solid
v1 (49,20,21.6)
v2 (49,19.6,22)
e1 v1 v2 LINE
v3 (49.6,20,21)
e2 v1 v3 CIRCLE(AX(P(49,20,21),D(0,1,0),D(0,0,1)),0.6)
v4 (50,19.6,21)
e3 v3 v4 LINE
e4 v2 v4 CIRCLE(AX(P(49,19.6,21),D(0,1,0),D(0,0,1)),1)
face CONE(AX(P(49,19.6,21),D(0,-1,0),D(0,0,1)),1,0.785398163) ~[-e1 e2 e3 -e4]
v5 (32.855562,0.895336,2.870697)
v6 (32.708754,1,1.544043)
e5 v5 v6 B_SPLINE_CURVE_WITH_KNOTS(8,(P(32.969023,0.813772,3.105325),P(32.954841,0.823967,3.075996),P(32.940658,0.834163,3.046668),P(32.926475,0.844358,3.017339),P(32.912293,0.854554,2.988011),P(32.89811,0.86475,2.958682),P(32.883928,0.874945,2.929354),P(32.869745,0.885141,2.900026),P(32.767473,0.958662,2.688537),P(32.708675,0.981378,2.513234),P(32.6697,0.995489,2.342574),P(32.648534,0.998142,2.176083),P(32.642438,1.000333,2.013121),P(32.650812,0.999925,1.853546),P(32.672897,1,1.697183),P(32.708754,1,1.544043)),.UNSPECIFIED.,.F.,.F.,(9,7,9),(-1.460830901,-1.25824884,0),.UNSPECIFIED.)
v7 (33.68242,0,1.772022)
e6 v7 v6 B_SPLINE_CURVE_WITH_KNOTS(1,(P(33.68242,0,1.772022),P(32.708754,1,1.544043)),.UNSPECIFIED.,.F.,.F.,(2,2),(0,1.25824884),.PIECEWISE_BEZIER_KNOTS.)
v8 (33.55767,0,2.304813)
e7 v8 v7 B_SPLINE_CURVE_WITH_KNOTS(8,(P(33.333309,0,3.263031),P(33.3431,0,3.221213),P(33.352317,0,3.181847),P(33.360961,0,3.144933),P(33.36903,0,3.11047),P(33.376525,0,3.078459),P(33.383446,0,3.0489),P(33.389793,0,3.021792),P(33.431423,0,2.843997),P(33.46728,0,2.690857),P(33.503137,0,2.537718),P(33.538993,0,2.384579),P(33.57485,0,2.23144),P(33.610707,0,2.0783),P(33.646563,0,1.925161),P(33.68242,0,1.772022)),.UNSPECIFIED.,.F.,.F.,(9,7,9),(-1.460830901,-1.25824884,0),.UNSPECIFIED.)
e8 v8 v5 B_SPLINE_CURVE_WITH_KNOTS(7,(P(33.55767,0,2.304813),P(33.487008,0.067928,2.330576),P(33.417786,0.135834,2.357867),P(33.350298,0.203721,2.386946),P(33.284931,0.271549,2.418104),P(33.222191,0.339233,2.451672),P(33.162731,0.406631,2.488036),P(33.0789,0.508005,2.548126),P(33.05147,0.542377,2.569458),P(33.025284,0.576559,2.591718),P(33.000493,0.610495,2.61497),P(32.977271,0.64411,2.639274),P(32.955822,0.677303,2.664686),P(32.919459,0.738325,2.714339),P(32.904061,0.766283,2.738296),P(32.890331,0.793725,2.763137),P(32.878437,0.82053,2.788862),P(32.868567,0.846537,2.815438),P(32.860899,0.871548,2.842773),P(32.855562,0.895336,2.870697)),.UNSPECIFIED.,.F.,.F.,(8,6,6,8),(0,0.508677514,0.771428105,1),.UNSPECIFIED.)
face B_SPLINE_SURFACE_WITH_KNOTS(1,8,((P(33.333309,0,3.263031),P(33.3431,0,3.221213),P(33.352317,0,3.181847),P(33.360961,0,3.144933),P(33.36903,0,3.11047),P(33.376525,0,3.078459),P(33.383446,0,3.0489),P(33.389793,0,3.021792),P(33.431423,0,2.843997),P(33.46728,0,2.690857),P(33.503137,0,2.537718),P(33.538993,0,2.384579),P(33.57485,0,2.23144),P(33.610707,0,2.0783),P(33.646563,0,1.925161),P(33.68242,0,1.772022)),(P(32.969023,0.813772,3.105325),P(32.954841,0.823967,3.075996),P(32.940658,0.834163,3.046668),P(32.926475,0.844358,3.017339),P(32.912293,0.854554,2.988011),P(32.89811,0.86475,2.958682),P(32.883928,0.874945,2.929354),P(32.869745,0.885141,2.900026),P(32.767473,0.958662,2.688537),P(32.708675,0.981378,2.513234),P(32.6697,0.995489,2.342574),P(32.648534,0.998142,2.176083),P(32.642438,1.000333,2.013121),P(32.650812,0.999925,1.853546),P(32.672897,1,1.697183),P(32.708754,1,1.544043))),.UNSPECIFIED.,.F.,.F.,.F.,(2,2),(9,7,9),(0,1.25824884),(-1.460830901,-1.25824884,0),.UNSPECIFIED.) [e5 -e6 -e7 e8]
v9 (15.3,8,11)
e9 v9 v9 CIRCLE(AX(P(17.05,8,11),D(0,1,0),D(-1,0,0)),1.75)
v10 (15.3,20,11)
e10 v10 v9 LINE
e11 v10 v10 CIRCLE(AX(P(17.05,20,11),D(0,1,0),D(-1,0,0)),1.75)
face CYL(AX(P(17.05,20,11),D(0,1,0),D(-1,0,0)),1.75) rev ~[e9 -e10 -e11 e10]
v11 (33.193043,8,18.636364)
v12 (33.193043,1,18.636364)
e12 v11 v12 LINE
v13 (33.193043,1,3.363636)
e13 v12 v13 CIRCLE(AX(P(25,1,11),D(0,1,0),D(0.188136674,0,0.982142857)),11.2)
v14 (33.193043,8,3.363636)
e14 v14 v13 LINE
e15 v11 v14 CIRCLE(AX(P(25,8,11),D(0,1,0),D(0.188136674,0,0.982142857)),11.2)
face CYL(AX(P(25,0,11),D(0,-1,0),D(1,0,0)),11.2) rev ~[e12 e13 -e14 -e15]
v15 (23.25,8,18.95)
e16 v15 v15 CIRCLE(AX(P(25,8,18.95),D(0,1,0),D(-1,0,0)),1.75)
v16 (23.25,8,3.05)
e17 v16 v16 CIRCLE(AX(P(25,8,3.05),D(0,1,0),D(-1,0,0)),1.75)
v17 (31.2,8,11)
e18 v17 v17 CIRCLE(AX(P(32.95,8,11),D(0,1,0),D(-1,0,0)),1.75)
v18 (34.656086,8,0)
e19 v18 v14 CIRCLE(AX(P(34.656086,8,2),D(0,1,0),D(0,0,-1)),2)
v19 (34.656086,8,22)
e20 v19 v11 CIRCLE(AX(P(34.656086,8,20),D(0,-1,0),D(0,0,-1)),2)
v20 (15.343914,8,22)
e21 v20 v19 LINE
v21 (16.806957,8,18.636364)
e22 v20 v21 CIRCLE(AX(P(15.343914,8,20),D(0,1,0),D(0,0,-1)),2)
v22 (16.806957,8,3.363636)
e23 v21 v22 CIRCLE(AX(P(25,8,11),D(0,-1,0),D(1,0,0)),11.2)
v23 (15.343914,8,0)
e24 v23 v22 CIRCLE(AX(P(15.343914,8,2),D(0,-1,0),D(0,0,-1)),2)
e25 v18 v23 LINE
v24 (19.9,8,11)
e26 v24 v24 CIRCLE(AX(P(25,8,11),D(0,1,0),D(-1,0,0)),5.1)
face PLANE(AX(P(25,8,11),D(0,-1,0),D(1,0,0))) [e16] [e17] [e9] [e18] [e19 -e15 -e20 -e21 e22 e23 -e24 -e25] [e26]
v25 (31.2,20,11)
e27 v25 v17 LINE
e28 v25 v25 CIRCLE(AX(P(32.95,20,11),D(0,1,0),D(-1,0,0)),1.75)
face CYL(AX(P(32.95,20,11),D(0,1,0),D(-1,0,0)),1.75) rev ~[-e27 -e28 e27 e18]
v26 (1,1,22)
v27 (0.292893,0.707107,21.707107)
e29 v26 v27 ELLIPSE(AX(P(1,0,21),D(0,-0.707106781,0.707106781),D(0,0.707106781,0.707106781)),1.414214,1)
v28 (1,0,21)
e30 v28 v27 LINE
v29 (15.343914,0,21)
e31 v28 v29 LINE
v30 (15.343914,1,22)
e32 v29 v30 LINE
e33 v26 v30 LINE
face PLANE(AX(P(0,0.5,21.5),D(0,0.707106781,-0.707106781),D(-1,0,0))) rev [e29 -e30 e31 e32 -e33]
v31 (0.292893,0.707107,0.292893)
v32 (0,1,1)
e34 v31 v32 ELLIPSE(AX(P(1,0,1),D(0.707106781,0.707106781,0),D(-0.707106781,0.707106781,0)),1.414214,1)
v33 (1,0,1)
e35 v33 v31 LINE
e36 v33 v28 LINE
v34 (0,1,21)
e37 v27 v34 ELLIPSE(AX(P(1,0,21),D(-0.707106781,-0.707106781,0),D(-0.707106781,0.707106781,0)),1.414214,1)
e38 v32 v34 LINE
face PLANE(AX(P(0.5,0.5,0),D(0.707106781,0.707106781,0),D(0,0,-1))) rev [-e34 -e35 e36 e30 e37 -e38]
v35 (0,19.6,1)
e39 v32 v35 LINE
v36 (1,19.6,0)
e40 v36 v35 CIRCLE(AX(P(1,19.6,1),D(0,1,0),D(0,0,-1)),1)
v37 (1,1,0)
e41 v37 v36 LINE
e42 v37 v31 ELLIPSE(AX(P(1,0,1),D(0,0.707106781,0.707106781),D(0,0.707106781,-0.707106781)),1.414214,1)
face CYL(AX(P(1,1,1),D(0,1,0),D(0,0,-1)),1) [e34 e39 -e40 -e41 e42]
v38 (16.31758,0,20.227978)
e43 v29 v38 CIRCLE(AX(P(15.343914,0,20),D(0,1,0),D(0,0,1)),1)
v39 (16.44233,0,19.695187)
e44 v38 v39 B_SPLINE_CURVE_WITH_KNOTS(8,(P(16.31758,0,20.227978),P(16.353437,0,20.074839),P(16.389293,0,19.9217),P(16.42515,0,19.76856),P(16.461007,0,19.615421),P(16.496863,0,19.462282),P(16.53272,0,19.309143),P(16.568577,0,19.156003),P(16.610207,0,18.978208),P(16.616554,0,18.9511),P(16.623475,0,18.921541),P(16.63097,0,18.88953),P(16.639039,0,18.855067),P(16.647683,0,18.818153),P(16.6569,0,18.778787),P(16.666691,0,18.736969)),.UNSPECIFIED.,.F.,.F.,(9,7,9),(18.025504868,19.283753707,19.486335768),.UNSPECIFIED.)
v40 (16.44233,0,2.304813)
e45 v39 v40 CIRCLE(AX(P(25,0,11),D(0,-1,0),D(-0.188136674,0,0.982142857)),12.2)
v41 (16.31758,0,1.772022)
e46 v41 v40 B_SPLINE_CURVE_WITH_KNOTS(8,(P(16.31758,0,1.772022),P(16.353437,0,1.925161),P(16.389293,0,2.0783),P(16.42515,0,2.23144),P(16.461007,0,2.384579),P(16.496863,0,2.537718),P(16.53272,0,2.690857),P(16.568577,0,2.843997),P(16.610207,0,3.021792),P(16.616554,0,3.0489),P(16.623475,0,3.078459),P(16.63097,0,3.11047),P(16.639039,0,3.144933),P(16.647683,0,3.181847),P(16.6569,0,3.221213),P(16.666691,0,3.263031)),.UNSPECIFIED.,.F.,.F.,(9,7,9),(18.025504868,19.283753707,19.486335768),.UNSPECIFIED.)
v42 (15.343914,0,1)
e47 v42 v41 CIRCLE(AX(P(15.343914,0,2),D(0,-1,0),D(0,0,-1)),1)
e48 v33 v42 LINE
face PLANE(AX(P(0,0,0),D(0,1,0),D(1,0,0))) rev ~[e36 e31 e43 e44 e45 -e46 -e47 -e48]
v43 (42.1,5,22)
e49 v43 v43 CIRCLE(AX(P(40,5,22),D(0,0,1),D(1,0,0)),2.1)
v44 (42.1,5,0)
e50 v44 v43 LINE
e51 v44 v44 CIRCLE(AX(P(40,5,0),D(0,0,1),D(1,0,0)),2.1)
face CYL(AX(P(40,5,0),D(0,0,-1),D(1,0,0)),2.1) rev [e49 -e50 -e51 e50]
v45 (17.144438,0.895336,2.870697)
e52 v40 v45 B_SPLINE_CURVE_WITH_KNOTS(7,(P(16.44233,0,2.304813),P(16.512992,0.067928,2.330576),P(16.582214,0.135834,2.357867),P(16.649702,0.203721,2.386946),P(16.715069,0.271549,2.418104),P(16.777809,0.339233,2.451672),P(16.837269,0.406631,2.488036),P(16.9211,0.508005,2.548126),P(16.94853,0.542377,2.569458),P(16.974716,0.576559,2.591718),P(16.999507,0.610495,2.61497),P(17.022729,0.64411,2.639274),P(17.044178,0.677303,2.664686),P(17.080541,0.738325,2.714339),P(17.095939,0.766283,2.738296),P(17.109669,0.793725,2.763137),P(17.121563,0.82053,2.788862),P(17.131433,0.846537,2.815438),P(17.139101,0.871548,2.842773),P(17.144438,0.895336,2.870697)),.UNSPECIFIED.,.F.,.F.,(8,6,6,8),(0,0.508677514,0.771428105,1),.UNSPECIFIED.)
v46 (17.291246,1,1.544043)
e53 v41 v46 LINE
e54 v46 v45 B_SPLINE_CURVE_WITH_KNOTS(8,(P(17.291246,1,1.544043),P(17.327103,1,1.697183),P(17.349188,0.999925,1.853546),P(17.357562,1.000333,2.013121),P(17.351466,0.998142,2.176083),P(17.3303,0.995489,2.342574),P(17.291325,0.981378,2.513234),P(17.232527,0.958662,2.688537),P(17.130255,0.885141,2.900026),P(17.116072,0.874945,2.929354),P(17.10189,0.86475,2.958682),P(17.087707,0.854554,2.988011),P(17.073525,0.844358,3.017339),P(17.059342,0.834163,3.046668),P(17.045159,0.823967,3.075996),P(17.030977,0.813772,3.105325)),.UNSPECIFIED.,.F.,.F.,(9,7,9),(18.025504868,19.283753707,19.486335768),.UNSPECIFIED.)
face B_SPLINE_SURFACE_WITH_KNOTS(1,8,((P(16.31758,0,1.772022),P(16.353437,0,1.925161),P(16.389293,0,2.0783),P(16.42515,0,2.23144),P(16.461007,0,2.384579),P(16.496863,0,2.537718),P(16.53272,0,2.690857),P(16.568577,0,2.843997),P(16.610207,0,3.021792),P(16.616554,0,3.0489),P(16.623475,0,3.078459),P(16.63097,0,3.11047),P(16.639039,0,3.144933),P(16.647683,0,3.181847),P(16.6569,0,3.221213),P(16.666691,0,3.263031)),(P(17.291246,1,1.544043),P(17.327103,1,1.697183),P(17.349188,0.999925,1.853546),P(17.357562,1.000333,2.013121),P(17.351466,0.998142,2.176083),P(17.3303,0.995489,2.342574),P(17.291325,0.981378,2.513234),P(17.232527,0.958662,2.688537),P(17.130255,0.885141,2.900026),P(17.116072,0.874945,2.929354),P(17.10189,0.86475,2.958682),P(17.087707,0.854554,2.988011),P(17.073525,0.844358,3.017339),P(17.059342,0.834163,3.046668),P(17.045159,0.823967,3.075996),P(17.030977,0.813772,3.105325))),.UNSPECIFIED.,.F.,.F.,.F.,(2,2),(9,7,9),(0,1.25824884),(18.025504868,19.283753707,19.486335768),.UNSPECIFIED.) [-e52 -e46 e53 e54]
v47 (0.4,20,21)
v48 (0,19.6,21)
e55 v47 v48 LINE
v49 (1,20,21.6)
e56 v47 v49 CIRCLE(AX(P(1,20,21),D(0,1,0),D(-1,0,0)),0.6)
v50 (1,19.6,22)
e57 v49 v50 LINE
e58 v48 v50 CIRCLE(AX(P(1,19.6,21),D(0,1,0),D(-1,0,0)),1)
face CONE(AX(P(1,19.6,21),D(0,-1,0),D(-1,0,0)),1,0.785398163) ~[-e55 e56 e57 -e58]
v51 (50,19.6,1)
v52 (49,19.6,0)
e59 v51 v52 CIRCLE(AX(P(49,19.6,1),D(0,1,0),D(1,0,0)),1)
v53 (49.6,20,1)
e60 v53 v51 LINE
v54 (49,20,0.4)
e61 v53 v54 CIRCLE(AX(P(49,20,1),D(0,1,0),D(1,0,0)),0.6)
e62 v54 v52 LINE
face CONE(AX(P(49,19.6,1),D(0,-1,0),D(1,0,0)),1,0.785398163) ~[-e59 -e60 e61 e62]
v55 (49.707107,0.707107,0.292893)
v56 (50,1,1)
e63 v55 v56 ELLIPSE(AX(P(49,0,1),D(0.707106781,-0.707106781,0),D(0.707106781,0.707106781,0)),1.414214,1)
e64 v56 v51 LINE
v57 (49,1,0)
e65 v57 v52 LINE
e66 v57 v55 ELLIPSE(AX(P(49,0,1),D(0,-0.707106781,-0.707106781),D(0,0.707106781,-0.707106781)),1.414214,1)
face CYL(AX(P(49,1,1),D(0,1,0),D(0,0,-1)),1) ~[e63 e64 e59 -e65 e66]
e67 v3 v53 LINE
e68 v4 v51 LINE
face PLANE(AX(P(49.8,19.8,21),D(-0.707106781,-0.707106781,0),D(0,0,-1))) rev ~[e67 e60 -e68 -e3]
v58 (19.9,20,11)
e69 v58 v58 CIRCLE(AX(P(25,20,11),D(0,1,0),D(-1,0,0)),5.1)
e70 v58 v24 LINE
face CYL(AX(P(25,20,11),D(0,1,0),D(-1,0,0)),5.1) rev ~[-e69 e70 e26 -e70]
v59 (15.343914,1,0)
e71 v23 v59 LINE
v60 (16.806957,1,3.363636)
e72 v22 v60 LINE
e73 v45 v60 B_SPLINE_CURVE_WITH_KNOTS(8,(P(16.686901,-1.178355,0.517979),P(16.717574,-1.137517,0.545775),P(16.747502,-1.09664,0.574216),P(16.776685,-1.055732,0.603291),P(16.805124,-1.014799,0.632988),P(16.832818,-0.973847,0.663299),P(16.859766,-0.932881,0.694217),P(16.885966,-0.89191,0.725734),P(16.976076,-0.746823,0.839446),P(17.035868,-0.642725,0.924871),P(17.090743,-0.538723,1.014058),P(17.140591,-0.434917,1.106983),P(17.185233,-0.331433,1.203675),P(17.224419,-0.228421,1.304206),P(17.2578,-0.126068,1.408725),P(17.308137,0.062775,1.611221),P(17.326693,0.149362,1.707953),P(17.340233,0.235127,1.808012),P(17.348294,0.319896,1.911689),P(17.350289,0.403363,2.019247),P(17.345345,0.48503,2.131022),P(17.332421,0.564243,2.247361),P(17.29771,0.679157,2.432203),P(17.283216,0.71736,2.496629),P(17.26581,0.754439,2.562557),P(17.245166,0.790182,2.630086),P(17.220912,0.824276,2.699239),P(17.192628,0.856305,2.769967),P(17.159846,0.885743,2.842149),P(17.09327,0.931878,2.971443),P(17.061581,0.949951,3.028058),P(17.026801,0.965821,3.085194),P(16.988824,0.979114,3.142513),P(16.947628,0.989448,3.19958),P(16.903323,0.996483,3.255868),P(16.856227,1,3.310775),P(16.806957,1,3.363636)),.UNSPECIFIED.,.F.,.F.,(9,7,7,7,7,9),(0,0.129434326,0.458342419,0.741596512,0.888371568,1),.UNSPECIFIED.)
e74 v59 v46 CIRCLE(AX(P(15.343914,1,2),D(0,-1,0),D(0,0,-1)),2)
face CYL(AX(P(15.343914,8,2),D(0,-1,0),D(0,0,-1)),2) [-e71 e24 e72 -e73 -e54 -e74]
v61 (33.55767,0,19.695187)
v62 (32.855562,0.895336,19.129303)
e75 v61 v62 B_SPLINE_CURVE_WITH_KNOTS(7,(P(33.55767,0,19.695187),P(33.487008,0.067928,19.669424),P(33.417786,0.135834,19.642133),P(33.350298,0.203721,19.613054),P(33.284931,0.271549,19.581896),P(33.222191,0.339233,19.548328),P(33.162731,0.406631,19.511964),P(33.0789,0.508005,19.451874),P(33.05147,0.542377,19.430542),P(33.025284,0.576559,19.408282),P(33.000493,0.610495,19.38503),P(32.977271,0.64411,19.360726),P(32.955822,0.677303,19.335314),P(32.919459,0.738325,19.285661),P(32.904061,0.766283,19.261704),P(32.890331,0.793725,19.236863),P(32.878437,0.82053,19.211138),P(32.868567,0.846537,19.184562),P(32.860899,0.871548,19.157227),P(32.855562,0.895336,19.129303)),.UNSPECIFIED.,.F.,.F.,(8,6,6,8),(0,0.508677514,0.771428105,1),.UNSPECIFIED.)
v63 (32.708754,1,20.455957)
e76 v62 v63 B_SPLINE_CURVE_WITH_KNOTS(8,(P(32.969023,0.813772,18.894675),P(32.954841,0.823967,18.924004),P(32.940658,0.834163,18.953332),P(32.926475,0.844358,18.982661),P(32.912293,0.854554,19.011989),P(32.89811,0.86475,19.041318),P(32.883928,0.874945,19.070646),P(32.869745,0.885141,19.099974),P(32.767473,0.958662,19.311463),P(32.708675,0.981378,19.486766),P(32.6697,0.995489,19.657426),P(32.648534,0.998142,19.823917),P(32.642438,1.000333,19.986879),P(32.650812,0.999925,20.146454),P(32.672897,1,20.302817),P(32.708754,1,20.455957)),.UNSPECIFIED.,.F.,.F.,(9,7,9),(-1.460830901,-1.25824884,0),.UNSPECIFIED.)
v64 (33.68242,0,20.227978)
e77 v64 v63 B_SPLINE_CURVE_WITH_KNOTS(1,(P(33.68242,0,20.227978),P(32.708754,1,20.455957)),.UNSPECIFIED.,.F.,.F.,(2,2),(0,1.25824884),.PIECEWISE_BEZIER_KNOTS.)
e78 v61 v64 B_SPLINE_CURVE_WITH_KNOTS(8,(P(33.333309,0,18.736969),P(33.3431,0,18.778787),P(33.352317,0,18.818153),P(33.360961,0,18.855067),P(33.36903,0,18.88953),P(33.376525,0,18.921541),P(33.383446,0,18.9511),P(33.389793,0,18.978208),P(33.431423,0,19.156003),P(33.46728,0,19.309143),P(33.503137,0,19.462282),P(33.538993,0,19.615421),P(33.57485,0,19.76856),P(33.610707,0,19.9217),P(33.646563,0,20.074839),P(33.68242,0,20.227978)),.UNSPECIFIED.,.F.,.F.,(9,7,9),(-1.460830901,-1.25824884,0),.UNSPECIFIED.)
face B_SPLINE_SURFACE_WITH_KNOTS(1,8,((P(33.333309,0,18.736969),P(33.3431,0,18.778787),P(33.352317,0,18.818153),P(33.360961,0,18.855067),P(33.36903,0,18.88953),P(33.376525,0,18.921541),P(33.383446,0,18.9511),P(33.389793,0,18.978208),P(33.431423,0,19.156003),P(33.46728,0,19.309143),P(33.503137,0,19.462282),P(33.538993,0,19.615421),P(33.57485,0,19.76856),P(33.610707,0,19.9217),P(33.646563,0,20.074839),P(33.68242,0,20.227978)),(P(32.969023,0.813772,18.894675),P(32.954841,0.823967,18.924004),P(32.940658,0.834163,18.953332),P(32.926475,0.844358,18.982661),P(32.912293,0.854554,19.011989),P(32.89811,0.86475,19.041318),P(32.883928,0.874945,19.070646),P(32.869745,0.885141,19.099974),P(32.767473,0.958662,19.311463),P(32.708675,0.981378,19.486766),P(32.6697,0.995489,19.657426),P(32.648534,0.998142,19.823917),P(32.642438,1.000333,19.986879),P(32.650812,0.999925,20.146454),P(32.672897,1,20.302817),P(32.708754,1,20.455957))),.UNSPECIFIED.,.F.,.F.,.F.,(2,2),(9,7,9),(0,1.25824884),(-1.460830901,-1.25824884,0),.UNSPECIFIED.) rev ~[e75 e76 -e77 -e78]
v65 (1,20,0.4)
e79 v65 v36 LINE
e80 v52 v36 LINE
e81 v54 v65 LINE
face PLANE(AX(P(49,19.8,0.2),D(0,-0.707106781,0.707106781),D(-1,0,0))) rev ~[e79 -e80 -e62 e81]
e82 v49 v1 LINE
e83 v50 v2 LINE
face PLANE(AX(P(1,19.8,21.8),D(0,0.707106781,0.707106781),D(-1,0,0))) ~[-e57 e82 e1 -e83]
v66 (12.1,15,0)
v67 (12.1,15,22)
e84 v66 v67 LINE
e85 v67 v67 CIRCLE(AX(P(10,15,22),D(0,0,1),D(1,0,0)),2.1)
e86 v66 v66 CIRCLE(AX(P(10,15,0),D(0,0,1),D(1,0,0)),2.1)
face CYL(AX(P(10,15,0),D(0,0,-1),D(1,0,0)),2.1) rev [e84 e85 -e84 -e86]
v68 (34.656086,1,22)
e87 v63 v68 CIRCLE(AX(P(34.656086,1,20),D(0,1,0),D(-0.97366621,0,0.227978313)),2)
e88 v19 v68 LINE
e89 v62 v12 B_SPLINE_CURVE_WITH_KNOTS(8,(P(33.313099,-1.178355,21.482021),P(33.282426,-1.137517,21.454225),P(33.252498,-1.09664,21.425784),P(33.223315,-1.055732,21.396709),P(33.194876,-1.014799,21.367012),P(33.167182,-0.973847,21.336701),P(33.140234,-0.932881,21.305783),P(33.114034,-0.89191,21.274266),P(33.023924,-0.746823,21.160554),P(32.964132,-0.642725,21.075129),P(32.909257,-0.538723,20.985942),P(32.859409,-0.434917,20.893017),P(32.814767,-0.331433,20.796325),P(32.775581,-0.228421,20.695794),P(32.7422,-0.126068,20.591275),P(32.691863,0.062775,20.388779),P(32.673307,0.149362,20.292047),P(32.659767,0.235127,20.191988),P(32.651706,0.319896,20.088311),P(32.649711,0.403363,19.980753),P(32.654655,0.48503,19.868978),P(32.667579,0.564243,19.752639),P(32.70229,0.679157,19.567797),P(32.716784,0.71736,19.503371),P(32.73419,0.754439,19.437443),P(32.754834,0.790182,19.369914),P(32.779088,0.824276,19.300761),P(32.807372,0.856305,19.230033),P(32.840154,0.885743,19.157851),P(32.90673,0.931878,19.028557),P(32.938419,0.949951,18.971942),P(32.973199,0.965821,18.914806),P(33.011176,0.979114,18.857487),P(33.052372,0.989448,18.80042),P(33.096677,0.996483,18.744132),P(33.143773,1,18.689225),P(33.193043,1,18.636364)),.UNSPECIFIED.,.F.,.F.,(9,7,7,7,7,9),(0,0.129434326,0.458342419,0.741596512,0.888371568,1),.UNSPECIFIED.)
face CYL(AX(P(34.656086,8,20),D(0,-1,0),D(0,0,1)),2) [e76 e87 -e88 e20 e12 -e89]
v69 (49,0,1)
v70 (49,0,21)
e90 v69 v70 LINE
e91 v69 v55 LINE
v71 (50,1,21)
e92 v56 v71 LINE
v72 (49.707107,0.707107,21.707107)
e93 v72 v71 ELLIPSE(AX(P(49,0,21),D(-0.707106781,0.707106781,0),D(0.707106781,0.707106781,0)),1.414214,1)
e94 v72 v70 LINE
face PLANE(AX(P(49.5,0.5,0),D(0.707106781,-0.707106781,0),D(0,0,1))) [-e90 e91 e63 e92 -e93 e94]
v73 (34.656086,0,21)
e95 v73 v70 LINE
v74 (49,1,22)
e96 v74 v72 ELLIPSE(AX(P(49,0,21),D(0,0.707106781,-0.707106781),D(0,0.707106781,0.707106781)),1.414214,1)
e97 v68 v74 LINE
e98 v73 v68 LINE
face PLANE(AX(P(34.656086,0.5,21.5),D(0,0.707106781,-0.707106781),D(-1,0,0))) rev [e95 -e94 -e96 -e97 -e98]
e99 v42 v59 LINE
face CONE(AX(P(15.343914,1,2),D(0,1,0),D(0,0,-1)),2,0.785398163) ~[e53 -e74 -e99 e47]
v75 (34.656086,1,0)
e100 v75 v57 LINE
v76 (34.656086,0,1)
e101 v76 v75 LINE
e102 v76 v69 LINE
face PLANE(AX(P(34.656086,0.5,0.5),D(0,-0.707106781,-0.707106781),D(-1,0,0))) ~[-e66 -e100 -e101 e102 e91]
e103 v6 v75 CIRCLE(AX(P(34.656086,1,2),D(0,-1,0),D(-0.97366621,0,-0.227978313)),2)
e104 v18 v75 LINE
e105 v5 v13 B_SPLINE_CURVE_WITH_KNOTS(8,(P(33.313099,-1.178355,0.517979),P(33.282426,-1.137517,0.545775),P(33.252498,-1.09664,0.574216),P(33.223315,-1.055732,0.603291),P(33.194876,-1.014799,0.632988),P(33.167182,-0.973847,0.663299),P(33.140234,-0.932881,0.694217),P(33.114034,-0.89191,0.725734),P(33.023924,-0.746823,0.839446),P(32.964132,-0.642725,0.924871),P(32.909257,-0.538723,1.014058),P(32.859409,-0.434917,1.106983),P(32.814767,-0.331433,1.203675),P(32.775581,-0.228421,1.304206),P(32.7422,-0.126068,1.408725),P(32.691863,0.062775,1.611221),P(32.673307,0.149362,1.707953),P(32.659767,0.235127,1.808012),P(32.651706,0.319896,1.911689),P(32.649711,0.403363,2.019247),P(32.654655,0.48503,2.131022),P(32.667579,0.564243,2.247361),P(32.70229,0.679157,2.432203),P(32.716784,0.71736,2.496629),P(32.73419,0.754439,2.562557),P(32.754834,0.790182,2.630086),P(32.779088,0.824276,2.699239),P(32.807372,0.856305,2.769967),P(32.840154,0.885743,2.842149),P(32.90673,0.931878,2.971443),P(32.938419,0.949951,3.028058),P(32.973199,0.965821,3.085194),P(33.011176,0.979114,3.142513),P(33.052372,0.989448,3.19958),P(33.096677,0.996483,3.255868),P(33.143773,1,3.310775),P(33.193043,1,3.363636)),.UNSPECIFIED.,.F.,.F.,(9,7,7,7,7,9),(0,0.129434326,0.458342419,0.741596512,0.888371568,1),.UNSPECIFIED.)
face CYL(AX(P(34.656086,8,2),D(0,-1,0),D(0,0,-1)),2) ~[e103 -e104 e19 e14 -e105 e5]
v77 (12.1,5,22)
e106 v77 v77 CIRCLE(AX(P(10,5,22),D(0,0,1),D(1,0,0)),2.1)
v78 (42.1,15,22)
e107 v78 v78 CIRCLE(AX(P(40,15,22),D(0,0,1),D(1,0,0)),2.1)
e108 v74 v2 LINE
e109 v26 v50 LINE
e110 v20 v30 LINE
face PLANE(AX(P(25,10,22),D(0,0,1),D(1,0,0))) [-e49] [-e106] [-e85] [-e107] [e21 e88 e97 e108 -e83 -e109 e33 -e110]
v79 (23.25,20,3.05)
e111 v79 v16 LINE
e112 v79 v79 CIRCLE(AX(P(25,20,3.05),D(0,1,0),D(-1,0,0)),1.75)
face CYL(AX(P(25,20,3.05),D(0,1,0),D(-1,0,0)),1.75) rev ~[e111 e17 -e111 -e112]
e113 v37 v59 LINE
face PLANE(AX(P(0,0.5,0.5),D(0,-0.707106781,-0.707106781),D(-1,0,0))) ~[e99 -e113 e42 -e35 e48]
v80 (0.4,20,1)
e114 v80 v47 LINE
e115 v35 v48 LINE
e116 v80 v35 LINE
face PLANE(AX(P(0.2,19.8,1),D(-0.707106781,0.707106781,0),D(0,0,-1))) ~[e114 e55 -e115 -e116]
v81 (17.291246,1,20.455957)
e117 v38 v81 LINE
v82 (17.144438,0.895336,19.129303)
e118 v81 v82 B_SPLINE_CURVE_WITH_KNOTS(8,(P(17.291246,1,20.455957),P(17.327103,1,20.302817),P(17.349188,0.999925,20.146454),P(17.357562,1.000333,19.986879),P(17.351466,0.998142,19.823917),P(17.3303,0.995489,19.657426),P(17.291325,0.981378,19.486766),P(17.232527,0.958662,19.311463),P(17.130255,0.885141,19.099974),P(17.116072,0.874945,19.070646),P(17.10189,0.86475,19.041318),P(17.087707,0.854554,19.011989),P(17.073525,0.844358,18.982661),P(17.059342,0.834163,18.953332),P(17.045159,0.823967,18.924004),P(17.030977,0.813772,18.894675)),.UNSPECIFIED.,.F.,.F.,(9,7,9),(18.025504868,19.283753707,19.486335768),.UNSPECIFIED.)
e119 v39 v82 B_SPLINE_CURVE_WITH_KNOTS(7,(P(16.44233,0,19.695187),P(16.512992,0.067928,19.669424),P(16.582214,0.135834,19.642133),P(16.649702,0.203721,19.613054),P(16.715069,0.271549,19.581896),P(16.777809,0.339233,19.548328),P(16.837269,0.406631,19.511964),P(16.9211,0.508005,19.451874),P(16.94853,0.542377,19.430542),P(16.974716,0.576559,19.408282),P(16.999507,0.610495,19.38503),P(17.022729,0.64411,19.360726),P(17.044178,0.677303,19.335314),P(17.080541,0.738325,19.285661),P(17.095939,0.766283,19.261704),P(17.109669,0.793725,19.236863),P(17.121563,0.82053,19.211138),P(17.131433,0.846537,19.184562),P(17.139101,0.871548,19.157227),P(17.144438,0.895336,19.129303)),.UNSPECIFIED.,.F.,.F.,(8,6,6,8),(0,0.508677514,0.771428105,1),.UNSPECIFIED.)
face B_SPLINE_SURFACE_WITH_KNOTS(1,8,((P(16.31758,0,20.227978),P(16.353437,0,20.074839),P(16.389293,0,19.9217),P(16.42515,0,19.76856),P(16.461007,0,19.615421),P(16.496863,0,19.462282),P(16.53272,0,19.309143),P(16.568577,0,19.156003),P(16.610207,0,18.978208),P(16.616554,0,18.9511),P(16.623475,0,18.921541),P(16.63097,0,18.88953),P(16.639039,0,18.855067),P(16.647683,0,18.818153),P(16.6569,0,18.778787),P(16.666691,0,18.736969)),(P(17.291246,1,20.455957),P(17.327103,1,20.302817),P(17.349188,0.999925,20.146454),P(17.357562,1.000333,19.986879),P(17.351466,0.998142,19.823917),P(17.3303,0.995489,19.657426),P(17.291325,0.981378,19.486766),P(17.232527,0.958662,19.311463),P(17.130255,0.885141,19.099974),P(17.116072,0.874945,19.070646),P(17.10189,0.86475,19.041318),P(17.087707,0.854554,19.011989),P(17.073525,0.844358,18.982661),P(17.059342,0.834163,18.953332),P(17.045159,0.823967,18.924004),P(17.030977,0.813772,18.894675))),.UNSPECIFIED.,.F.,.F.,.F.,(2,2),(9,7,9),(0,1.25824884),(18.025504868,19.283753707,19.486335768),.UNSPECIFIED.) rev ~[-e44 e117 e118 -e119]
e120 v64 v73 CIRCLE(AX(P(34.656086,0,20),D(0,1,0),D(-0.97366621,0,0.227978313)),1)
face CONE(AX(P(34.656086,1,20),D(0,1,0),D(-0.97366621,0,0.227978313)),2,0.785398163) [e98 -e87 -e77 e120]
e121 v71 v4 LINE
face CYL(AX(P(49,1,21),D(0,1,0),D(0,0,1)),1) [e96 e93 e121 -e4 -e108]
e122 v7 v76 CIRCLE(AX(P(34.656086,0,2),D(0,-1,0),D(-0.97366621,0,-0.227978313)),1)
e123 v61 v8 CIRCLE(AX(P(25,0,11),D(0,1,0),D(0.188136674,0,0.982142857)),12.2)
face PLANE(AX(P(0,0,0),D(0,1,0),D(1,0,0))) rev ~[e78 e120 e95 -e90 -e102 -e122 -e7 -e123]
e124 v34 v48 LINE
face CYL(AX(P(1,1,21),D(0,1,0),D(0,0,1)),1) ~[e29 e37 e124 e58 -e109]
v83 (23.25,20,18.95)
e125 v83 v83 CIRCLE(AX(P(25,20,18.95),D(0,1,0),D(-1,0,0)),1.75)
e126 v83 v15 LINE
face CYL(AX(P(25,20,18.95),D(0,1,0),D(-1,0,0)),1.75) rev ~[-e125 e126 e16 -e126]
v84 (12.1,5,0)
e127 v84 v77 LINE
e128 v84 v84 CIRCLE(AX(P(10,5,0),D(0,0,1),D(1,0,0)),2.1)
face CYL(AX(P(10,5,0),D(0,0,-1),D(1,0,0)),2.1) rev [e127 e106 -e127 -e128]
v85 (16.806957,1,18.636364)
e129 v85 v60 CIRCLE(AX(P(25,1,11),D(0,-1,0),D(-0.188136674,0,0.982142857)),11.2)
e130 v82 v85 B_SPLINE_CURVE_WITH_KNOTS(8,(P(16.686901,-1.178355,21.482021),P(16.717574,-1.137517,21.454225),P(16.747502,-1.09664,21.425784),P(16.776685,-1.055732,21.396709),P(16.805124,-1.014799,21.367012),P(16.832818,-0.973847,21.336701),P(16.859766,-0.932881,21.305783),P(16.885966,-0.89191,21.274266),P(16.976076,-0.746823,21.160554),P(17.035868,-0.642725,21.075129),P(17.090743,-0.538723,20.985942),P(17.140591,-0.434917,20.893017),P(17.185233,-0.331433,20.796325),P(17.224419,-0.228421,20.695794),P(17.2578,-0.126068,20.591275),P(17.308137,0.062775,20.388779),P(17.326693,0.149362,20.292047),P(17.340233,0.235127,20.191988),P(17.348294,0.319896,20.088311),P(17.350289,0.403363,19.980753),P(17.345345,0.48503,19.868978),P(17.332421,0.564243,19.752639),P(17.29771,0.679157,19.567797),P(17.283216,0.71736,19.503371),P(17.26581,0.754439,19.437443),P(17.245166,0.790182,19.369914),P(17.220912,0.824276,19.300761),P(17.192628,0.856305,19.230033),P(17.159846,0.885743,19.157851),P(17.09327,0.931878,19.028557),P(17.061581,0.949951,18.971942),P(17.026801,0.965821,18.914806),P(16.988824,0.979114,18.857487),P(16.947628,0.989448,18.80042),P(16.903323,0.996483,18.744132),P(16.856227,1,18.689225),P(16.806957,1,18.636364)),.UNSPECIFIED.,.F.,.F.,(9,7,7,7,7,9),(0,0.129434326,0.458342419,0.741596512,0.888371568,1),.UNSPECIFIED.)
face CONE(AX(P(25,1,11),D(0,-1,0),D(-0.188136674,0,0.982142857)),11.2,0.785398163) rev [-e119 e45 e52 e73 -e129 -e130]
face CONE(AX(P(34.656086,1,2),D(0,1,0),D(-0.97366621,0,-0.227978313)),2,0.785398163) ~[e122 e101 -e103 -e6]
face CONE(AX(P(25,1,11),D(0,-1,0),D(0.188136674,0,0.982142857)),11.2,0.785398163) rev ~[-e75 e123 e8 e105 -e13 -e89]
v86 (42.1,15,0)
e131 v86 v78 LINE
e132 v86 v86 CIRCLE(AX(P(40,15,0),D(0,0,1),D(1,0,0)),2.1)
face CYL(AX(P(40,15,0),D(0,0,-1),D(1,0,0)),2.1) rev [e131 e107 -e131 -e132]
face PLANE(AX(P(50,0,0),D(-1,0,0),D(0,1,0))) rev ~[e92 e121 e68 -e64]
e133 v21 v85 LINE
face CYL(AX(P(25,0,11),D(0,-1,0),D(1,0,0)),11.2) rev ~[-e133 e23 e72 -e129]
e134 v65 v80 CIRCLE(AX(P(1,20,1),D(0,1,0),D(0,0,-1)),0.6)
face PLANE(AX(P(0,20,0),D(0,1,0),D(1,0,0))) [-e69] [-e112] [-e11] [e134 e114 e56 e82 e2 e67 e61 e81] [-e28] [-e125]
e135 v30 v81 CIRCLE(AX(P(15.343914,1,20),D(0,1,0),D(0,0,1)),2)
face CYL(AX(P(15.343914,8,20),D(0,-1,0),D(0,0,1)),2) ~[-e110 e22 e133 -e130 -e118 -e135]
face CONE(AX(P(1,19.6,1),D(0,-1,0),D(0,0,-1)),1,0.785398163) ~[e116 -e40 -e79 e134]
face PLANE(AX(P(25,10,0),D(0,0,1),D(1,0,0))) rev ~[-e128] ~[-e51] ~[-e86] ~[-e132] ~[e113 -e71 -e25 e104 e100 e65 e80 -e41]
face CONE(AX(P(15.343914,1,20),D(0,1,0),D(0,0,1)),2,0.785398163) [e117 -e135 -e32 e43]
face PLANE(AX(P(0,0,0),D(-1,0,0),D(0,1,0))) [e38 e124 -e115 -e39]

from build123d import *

# Parameters (mm, degrees)
SKETCH_W        = 50
SKETCH_H        = 20
SKETCH_R        = 2.1
PAD_DEPTH       = 22
SKETCH001_R     = 11.2
POCKET_DEPTH    = 8
SKETCH002_R     = 5.1
SKETCH002_R_2   = 1.75
POCKET001_DEPTH = 20
CHAMFER_SIZE    = 1
FILLET_R        = 2
CHAMFER001_SIZE = 1
FILLET001_R     = 1
CHAMFER002_SIZE = 0.4


with BuildPart() as part:
    # Sketch → Pad (new body)
    with BuildSketch(Plane.XY):
        with Locations((25, 10)):
            Rectangle(SKETCH_W, SKETCH_H)
        with Locations((10, 15)):
            Circle(SKETCH_R, mode=Mode.SUBTRACT)
        with Locations((10, 5)):
            Circle(SKETCH_R, mode=Mode.SUBTRACT)
        with Locations((40, 15)):
            Circle(SKETCH_R, mode=Mode.SUBTRACT)
        with Locations((40, 5)):
            Circle(SKETCH_R, mode=Mode.SUBTRACT)
    extrude(amount=PAD_DEPTH)

    # Sketch001 (on Face3 of Pad) → Pocket (cut)
    with BuildSketch(Plane.XZ):
        with Locations((25, 11)):
            Circle(SKETCH001_R)
    extrude(amount=-POCKET_DEPTH, mode=Mode.SUBTRACT)

    # Sketch002 (on Face1 of Pocket) → Pocket001 (cut)
    with BuildSketch(Plane(origin=(0, 20, 0), x_dir=(-1, 0, 0), z_dir=(0, 1, 0))):
        with Locations((-25, 11)):
            Circle(SKETCH002_R)
        with Locations((-25, 18.95)):
            Circle(SKETCH002_R_2)
        with Locations((-25, 3.05)):
            Circle(SKETCH002_R_2)
        with Locations((-32.95, 11)):
            Circle(SKETCH002_R_2)
        with Locations((-17.05, 11)):
            Circle(SKETCH002_R_2)
    extrude(amount=-POCKET001_DEPTH, mode=Mode.SUBTRACT)

    # Chamfer
    chamfer_edges = [part.edges().sort_by_distance(p)[0] for p in [
        (13.8, 0, 11),
        (33.632493, 0, 18.13583),
    ]]
    chamfer(chamfer_edges, length=CHAMFER_SIZE)

    # Fillet
    fillet_edges = [part.edges().sort_by_distance(p)[0] for p in [
        (22.892869, 4.5, 0),
        (27.107131, 4.5, 0),
        (22.892869, 4.5, 22),
        (27.107131, 4.5, 22),
    ]]
    fillet(fillet_edges, radius=FILLET_R)

    # Chamfer001
    chamfer001_edges = [part.edges().sort_by_distance(p)[0] for p in [
        (7.671957, 0, 22),
        (0, 0, 11),
        (7.671957, 0, 0),
        (42.328043, 0, 0),
        (50, 0, 11),
        (42.328043, 0, 22),
    ]]
    chamfer(chamfer001_edges, length=CHAMFER001_SIZE)

    # Fillet001
    fillet001_edges = [part.edges().sort_by_distance(p)[0] for p in [
        (0, 10.5, 0),
        (50, 10.5, 0),
        (50, 10.5, 22),
        (0, 10.5, 22),
    ]]
    fillet(fillet001_edges, radius=FILLET001_R)

    # Chamfer002
    chamfer002_edges = [part.edges().sort_by_distance(p)[0] for p in [
        (49.707107, 20, 21.707107),
        (25, 20, 22),
        (0.292893, 20, 21.707107),
        (0, 20, 11),
        (0.292893, 20, 0.292893),
        (25, 20, 0),
        (49.707107, 20, 0.292893),
        (50, 20, 11),
    ]]
    chamfer(chamfer002_edges, length=CHAMFER002_SIZE)


solid = part.part
